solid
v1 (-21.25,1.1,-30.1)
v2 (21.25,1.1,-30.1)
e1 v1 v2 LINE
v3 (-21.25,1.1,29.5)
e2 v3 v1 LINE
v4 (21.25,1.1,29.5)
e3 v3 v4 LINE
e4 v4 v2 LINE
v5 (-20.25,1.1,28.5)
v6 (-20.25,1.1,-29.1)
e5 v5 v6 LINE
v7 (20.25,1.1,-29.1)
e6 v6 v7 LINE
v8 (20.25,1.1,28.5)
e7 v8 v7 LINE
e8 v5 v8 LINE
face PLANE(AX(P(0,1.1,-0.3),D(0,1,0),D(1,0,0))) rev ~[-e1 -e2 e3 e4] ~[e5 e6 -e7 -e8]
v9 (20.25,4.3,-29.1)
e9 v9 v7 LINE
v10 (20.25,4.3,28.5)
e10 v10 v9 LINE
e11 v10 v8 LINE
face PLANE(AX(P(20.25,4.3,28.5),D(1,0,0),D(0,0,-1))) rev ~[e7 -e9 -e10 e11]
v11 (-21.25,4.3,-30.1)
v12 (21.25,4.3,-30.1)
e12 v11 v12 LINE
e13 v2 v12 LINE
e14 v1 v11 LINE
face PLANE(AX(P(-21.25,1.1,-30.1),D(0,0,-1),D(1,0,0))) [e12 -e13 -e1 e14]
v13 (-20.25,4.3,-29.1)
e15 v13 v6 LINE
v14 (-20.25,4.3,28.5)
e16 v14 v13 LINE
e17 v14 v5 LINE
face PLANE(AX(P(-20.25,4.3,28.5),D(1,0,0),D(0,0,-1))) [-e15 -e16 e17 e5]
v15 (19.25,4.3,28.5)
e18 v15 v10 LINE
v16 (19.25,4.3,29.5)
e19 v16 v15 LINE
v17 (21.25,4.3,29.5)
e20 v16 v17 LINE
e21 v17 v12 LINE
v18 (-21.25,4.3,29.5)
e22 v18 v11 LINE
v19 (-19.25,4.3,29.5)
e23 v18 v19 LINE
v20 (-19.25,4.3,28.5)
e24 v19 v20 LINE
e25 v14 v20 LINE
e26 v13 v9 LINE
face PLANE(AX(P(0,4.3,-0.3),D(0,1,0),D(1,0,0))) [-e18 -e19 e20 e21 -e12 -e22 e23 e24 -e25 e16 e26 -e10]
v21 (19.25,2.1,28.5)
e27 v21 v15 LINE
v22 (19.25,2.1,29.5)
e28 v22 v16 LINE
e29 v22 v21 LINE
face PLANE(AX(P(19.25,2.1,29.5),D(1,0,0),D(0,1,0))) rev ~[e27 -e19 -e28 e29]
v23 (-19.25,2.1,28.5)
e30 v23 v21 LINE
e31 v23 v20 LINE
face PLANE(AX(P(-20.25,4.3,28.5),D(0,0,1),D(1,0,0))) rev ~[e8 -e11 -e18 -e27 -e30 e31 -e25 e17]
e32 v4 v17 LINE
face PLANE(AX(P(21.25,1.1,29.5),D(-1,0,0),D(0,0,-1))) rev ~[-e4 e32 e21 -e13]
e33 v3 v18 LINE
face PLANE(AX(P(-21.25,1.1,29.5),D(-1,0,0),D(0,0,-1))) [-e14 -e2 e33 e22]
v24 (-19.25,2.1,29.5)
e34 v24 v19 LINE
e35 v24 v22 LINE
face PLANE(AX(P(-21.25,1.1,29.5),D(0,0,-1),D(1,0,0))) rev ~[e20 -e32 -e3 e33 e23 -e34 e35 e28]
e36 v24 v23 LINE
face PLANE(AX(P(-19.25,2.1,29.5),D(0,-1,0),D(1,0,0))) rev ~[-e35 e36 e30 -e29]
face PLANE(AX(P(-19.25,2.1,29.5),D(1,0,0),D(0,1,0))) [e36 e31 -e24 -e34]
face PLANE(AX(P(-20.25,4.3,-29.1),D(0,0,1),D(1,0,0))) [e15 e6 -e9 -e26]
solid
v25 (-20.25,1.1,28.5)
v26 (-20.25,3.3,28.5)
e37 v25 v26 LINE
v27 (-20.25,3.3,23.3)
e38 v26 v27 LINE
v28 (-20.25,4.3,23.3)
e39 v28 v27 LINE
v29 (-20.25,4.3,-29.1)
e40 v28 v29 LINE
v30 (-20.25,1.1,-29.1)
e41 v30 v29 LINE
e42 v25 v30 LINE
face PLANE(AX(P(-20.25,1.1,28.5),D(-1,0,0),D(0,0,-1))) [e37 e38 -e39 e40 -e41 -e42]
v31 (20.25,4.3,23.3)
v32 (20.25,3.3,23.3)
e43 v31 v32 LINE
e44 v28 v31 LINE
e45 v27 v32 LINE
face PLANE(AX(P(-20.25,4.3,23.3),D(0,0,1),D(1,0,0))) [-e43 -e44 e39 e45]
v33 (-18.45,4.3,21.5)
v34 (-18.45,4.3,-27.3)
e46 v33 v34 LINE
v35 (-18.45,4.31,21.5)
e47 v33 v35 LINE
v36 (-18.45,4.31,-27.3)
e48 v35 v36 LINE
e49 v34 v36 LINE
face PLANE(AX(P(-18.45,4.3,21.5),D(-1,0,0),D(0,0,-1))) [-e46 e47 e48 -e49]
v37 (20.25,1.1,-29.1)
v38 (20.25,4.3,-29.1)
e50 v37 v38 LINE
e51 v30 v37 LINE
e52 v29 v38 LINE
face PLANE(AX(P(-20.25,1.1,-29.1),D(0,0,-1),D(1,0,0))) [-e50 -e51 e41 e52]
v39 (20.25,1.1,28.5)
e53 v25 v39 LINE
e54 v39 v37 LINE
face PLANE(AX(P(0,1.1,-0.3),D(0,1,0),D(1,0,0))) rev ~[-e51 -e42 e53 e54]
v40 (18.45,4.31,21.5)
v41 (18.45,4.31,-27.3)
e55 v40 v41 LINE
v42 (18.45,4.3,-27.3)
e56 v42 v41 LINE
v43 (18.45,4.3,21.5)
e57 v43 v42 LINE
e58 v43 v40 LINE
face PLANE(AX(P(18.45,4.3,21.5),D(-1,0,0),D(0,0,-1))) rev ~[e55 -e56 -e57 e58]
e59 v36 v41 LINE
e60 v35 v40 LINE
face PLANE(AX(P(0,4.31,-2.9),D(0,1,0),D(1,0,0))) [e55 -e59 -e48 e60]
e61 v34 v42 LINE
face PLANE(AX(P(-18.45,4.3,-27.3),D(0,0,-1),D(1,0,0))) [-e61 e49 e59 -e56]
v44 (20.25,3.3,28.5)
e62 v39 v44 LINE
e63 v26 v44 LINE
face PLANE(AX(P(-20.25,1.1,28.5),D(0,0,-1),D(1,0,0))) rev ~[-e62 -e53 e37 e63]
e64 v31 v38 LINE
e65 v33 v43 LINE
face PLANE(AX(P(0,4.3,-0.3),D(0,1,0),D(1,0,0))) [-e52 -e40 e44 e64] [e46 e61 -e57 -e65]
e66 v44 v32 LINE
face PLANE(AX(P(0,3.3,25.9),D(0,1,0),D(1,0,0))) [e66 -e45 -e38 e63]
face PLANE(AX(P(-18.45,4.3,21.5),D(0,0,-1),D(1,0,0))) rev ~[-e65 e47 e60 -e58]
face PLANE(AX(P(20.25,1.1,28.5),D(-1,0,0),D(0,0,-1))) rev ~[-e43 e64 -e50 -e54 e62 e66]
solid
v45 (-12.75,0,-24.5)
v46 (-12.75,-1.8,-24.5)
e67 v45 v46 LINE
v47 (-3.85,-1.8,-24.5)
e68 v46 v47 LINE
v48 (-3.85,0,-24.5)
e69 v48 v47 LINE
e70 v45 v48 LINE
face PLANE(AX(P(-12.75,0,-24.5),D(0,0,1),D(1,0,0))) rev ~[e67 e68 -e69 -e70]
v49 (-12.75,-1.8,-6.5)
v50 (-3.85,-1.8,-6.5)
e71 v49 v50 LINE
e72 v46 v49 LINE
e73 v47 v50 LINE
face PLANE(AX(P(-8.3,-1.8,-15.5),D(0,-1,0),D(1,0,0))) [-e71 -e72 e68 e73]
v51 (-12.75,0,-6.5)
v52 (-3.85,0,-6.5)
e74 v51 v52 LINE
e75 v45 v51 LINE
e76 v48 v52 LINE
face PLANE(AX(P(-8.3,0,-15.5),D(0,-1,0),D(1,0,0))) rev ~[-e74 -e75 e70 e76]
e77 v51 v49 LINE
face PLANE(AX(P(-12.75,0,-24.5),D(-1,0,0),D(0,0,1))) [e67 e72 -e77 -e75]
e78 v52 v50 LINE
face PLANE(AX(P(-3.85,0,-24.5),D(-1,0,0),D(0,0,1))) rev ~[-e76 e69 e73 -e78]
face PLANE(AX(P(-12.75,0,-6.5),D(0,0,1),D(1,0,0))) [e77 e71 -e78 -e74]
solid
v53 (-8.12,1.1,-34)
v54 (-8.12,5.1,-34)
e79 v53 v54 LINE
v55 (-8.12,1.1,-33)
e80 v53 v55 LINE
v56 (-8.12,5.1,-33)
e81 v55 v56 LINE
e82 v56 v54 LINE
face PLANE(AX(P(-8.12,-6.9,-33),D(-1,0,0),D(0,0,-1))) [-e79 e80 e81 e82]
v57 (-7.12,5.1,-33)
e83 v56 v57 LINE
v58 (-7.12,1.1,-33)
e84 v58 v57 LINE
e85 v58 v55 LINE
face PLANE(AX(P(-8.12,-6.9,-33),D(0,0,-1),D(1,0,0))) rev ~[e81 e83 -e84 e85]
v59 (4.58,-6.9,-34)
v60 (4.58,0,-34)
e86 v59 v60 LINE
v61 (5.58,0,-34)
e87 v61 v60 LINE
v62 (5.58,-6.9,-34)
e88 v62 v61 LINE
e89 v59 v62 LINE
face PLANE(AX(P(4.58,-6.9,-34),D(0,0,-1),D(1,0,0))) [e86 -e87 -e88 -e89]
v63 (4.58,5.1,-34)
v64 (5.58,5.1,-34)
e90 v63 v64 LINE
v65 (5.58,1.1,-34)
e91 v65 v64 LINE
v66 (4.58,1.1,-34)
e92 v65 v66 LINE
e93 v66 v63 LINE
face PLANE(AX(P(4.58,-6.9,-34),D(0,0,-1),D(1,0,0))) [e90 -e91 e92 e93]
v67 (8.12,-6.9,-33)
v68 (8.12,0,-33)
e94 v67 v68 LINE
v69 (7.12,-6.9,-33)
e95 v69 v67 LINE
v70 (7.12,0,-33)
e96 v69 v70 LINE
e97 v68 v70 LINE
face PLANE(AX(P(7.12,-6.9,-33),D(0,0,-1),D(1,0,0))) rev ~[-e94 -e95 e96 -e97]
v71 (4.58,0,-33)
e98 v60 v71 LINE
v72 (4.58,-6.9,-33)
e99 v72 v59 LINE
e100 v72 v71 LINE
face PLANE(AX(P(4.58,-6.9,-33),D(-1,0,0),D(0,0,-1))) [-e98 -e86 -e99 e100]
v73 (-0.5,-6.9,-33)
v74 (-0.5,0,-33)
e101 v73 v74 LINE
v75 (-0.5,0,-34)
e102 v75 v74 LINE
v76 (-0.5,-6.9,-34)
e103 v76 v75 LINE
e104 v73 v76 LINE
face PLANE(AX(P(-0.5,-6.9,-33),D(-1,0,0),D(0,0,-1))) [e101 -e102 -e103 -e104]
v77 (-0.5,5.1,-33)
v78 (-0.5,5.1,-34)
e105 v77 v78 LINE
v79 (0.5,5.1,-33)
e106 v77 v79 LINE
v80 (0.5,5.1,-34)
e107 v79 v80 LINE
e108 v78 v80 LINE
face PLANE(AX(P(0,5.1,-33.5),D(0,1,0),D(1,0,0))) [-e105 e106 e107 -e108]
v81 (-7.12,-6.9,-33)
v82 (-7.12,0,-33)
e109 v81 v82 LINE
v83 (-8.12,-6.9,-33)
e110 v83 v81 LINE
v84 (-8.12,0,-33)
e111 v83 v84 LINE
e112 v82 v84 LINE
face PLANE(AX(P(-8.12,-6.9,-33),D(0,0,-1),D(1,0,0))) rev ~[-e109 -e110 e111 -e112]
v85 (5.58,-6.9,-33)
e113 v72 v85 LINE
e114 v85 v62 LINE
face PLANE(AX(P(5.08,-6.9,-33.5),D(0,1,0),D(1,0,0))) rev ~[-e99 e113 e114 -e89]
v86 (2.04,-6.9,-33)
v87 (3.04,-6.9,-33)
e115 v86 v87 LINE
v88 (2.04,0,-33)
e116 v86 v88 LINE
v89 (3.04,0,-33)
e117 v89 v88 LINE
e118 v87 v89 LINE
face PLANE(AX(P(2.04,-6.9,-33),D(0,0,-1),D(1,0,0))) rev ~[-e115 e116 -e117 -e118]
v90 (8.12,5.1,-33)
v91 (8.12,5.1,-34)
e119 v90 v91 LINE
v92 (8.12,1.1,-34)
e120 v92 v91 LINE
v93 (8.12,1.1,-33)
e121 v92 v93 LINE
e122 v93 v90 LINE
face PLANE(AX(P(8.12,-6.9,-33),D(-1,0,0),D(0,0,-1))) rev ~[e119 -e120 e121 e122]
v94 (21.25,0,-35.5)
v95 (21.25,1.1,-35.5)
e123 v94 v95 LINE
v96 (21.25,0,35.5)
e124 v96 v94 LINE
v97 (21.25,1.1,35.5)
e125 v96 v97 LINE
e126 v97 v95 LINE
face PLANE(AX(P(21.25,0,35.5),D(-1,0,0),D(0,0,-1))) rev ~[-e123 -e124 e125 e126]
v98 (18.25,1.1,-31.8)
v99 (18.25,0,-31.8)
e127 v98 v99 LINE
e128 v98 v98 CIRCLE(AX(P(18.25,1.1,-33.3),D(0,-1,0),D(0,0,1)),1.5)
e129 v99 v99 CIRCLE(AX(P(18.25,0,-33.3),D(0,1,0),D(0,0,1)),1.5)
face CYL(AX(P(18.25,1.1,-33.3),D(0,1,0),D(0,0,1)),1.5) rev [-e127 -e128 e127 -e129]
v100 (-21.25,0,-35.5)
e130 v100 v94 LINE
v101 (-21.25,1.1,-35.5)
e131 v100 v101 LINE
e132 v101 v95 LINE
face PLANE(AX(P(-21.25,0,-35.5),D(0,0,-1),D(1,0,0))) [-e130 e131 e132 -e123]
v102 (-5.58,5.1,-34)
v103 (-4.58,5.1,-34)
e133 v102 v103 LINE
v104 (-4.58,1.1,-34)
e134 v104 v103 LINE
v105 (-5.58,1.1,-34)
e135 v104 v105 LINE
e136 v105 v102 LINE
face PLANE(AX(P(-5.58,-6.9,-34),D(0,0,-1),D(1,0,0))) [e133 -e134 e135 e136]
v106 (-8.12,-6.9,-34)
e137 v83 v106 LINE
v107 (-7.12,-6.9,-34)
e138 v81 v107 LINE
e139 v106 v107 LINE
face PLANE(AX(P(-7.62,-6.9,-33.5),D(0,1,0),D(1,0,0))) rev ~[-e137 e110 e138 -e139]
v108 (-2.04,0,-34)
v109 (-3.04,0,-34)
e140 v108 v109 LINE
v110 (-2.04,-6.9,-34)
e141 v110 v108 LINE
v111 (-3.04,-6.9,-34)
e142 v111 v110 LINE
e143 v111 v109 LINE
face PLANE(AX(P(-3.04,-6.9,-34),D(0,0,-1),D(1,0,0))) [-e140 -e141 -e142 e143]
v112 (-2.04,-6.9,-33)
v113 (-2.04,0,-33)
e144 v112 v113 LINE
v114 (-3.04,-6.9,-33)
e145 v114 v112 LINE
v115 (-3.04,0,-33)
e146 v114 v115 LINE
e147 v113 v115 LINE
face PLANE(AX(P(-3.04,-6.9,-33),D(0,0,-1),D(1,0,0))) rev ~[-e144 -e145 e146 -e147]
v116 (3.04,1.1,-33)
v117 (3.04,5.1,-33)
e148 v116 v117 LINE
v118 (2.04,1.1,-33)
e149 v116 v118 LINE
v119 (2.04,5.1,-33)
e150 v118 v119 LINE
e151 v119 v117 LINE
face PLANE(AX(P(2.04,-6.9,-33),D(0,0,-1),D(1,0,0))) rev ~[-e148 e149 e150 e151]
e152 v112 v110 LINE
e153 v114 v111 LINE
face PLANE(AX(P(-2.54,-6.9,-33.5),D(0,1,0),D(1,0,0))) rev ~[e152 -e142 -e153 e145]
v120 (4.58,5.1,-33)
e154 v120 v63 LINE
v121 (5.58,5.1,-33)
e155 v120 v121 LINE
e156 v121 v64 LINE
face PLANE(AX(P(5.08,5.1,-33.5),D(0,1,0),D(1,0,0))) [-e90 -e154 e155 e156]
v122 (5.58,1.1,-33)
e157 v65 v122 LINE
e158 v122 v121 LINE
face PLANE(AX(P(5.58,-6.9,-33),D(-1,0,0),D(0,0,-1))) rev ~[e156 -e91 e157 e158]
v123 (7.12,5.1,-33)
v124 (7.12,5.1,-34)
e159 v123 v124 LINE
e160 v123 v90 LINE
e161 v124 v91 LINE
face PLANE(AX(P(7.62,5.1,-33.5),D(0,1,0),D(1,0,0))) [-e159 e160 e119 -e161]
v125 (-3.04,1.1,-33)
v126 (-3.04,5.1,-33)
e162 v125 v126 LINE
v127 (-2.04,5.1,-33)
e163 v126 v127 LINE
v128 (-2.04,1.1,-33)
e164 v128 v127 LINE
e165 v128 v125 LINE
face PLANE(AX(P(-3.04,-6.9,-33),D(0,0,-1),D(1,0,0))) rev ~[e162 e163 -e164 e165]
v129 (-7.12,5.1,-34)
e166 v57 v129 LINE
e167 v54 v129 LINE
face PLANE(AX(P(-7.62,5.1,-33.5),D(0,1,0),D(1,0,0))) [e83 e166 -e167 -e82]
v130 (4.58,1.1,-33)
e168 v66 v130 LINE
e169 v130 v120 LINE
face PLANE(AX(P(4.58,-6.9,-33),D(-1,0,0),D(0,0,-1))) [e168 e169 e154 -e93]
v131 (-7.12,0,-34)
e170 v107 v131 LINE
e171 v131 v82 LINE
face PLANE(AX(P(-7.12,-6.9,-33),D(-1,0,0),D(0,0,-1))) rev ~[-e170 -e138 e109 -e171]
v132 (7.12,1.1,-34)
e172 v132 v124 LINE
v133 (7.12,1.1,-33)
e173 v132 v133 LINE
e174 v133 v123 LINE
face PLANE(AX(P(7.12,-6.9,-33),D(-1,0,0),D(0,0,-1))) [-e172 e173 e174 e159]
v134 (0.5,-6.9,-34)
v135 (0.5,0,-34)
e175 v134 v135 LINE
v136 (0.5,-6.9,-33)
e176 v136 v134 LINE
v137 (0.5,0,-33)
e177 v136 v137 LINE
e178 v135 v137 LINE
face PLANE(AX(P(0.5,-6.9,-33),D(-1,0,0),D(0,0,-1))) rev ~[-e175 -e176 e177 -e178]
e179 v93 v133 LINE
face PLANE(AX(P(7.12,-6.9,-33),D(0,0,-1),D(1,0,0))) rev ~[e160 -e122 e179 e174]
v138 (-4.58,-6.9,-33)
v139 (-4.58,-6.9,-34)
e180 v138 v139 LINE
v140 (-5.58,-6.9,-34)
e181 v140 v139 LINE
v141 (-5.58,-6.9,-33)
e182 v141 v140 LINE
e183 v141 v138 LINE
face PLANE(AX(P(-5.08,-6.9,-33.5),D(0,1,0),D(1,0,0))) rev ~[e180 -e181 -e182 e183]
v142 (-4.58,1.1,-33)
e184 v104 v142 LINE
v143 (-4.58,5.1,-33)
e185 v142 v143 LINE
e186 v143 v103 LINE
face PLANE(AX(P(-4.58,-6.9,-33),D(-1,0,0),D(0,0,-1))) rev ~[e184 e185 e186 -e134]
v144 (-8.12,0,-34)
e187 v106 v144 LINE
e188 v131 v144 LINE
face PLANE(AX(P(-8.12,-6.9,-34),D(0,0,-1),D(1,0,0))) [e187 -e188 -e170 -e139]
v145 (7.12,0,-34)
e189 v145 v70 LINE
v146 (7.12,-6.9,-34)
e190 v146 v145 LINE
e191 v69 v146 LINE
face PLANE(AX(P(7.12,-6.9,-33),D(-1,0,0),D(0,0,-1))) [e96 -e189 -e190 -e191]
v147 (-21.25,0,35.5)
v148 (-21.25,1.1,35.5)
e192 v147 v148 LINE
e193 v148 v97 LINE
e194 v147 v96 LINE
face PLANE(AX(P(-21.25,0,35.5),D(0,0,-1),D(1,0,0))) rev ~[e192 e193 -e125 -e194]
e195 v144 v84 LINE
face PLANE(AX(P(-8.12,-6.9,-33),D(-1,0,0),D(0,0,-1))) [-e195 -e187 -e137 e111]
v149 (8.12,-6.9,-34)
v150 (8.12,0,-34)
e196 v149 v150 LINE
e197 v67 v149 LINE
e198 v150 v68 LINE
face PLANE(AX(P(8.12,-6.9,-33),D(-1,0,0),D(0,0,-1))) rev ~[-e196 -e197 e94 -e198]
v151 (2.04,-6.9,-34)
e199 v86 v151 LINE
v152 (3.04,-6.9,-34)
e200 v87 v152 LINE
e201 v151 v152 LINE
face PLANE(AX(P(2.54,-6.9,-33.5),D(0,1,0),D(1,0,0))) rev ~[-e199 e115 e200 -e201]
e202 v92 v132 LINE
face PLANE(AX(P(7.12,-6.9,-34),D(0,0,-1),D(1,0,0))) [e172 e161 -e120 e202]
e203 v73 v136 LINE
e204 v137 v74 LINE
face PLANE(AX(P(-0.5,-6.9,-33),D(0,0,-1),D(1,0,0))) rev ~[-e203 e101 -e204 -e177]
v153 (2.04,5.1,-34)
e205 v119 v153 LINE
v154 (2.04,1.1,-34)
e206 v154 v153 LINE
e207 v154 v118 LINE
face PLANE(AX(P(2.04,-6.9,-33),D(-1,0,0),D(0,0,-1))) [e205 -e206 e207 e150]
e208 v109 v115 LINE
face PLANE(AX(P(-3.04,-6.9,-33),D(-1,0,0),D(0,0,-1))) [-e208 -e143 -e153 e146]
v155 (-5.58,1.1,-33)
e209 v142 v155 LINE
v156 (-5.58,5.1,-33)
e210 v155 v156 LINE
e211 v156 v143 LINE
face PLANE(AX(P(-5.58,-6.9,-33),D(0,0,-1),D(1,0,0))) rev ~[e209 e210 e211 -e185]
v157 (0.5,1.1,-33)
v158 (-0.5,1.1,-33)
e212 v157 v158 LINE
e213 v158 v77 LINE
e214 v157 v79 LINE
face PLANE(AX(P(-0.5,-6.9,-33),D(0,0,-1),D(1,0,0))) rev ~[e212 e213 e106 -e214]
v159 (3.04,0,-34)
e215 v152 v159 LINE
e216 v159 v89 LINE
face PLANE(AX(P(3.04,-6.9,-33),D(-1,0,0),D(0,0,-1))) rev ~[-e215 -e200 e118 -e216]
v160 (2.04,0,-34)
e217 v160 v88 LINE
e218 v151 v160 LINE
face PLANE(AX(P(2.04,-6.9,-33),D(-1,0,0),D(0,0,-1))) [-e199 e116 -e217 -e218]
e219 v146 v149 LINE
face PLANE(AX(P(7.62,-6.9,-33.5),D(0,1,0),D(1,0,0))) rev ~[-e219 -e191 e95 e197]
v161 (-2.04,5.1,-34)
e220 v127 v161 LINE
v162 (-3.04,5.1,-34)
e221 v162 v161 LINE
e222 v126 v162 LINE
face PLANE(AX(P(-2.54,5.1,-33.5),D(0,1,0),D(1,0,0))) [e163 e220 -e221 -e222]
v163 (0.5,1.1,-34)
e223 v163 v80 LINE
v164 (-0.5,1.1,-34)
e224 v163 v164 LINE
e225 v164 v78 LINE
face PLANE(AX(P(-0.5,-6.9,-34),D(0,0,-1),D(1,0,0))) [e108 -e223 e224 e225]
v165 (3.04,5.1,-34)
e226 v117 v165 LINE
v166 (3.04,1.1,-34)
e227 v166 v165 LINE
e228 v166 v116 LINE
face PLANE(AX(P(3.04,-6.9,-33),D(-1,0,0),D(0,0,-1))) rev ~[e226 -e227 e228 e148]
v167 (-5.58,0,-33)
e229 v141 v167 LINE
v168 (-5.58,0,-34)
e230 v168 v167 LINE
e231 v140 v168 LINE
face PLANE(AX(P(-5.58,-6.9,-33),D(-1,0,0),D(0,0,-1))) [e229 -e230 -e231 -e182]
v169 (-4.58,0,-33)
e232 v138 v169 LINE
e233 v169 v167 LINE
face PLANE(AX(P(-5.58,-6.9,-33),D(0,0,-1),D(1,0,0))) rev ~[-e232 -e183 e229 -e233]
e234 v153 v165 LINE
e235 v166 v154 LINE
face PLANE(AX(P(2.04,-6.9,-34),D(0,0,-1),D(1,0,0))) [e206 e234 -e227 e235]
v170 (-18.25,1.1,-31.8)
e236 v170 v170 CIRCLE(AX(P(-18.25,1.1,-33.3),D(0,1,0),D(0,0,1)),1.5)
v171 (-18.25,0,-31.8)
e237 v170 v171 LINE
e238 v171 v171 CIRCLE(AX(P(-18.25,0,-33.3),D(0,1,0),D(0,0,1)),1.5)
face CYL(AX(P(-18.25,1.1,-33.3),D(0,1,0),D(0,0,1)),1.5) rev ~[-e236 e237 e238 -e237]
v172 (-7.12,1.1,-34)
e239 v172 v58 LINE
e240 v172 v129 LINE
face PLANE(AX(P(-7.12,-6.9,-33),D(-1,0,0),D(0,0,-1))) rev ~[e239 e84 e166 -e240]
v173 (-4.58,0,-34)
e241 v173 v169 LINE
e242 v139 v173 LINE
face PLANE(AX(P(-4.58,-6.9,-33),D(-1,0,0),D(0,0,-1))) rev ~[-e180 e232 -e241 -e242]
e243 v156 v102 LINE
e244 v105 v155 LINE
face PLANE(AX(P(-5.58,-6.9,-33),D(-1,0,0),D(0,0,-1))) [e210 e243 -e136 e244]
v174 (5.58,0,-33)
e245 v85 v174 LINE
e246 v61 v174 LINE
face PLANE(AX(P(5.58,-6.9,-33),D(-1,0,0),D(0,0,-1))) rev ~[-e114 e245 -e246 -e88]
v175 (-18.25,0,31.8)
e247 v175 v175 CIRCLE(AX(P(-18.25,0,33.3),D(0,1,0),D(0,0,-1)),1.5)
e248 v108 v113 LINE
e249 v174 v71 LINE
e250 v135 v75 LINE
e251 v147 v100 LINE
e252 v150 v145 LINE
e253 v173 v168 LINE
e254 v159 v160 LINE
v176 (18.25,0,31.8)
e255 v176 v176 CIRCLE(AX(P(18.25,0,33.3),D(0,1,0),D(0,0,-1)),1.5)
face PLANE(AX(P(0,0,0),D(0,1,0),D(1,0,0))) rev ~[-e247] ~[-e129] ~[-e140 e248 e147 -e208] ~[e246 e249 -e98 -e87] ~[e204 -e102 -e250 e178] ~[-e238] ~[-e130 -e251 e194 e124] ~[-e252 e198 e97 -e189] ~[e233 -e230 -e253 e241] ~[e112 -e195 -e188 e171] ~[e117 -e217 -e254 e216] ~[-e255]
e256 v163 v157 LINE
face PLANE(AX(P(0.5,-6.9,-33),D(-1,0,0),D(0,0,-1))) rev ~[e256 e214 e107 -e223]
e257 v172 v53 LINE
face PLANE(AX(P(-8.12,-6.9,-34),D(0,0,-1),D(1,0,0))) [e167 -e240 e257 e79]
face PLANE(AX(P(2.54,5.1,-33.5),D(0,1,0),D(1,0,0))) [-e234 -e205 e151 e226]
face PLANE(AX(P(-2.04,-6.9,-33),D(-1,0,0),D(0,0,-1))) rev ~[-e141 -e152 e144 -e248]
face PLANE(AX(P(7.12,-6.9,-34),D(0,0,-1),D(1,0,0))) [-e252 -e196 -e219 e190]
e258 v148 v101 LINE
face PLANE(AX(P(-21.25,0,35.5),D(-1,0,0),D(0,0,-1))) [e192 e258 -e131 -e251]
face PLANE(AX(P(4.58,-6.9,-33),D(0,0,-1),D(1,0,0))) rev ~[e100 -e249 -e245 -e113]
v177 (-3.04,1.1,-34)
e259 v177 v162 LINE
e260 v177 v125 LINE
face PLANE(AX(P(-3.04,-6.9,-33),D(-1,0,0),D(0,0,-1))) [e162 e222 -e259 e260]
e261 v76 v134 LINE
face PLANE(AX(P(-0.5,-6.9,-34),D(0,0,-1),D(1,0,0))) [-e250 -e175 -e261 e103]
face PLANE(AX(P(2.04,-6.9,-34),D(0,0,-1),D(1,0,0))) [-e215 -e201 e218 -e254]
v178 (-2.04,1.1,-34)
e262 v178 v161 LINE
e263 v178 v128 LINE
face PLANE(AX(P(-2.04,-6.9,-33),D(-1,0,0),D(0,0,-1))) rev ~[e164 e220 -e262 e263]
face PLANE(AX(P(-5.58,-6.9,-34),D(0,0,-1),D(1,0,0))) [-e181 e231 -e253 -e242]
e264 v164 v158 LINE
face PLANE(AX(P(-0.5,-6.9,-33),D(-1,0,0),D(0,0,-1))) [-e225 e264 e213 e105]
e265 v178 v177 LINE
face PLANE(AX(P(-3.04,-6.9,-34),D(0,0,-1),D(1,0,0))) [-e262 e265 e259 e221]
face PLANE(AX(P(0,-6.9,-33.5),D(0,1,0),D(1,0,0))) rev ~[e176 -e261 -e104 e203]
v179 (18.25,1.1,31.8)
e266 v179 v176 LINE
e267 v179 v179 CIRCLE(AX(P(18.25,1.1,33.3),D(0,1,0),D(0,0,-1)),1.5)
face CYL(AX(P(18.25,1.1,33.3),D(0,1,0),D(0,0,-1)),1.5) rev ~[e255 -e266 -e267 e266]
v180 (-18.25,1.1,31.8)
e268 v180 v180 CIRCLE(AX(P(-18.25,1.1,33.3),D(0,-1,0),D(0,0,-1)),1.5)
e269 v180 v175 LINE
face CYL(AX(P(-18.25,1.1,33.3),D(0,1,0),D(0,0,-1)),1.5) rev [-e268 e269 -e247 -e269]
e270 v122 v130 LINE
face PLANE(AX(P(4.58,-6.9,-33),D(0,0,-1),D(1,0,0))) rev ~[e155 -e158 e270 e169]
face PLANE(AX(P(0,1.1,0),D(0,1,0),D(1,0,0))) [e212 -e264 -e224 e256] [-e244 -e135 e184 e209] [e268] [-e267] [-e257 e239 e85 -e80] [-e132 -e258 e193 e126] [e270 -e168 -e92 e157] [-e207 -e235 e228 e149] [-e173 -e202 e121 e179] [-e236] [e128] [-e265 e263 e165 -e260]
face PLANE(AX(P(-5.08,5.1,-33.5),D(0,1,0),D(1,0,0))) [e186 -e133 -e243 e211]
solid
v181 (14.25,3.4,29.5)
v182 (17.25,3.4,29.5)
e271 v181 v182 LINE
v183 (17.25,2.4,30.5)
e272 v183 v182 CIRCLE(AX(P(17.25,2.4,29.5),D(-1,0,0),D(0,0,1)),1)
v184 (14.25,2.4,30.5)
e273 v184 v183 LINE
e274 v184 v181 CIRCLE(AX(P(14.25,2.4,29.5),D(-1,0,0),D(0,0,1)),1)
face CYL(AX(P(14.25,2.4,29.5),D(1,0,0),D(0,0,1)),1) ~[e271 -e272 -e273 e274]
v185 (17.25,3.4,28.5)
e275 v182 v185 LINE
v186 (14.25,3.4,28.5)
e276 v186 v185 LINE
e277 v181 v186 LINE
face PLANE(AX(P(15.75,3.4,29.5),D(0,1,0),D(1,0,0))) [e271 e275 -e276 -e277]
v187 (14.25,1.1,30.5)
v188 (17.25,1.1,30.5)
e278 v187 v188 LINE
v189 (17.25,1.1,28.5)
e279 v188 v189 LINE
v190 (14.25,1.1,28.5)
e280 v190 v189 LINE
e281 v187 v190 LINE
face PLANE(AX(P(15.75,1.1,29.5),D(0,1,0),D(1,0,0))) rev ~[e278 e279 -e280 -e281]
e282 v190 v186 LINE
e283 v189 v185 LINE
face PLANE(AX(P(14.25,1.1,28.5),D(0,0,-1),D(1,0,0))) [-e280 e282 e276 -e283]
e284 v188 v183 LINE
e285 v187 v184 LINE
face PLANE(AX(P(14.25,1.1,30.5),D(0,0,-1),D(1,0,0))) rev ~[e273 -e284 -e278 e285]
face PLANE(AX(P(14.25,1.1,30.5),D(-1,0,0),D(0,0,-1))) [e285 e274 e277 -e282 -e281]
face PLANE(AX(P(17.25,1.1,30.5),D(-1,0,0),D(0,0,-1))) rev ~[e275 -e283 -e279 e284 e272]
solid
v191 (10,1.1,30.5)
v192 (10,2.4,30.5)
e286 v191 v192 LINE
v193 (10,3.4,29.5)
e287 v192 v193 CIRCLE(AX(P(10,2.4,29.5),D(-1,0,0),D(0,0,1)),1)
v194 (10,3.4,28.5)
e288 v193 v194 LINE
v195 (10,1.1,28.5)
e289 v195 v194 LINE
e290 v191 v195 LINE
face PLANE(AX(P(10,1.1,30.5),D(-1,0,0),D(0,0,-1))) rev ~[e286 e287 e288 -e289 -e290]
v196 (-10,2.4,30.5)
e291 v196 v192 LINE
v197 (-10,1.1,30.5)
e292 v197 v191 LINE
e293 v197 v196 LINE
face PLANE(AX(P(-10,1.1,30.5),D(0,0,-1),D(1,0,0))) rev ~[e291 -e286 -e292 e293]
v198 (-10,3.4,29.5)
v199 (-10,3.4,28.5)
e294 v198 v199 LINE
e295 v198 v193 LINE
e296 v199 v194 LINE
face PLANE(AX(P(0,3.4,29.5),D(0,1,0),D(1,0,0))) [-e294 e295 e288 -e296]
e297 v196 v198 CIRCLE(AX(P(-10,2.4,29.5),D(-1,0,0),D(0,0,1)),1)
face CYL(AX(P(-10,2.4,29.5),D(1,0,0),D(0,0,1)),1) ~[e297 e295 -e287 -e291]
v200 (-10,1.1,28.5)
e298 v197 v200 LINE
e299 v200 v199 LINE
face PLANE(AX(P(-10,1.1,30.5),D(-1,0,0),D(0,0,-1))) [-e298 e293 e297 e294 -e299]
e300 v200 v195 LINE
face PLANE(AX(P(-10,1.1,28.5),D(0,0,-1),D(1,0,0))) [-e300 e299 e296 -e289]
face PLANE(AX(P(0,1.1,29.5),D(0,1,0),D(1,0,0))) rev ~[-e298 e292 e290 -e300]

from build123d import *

# Parameters (mm, degrees)
SKETCH1_W                                  = 42.5
SKETCH1_H                                  = 71
BOSS_EXTRUDE1_DEPTH                        = 1.1
SKETCH7_R                                  = 1.5
CUT_EXTRUDE2_DEPTH                         = 42.388675988
MIRROR1_AT_THE_SECOND_PLANE_COPY_1_SKETC_R = 1.5
MIRROR1_AT_THE_SECOND_PLANE_COPY_1_DEPTH   = 42.388675988
BOSS_EXTRUDE5_START                        = -8
SKETCH8_W                                  = 1
SKETCH8_H                                  = 1
BOSS_EXTRUDE5_DEPTH                        = 12
LPATTERN1_COUNT                            = 4
LPATTERN1_PITCH                            = 2.54
LPATTERN1_COL_COUNT                        = 4
LPATTERN1_COL_PITCH                        = 2.54
SKETCH10_W                                 = 8.9
SKETCH10_H                                 = 18
PCB_COMPONENTS_DEPTH                       = 1.8
SKETCH2_W                                  = 42.5
SKETCH2_H                                  = 59.6
BOSS_EXTRUDE2_DEPTH                        = 3.2
SKETCH3_W                                  = 40.5
SKETCH3_H                                  = 57.6
CUT_EXTRUDE1_DEPTH                         = 43.863183503
SKETCH12_W                                 = 38.5
SKETCH12_H                                 = 2.2
CUT_EXTRUDE4_DEPTH                         = 1
SKETCH5_W                                  = 40.5
SKETCH5_H                                  = 57.6
BOSS_EXTRUDE3_DEPTH                        = 3.2
SKETCH9_W                                  = 40.5
SKETCH9_H                                  = 5.2
CUT_EXTRUDE3_DEPTH                         = 1
SKETCH6_W                                  = 36.9
SKETCH6_H                                  = 48.8
BOSS_EXTRUDE4_DEPTH                        = 0.01
SKETCH11_W                                 = 20
SKETCH11_H                                 = 2
BOSS_EXTRUDE7_DEPTH                        = 2.3
SKETCH11_W_2                               = 3
BOSS_EXTRUDE7_2_DEPTH                      = 2.3
FILLET1_R                                  = 1
FILLET2_R                                  = 1


with BuildPart() as part:
    # Sketch1 → Boss-Extrude1 (new body)
    with BuildSketch(Plane(origin=(0, 0, 0), x_dir=(1, 0, 0), z_dir=(0, 1, 0))):
        Rectangle(SKETCH1_W, SKETCH1_H)
    extrude(amount=BOSS_EXTRUDE1_DEPTH)

    # Sketch7 → Cut-Extrude2 (cut, through all)
    with BuildSketch(Plane(origin=(0, 1.1, 0), x_dir=(1, 0, 0), z_dir=(0, 1, 0))):
        with Locations(Location((-18.25, 33.3, 0), (0, 0, 270))):
            Circle(SKETCH7_R)
    cut_extrude2 = extrude(amount=-CUT_EXTRUDE2_DEPTH, mode=Mode.SUBTRACT)

    # Mirror1: Cut-Extrude2 across plane
    add(cut_extrude2.mirror(Plane.XY), mode=Mode.SUBTRACT)

    # Mirror1 at the second plane: Cut-Extrude2 across plane
    add(cut_extrude2.mirror(Plane(origin=(0, 0, 0), x_dir=(0, 0, 1), z_dir=(1, 0, 0))), mode=Mode.SUBTRACT)

    # Mirror1 at the second plane copy 1 sketc → Mirror1 at the second plane copy 1 (cut, through all)
    with BuildSketch(Plane(origin=(0, 1.1, 0), x_dir=(-1, 0, 0), z_dir=(0, 1, 0))):
        with Locations(Location((-18.25, 33.3, 0), (0, 0, 270))):
            Circle(MIRROR1_AT_THE_SECOND_PLANE_COPY_1_SKETC_R)
    extrude(amount=-MIRROR1_AT_THE_SECOND_PLANE_COPY_1_DEPTH, mode=Mode.SUBTRACT)

    # Sketch8 → Boss-Extrude5 (add)
    with BuildSketch(Plane(origin=(0, 1.1, 0), x_dir=(1, 0, 0), z_dir=(0, 1, 0)).offset(BOSS_EXTRUDE5_START)):
        with Locations((0, 33.5)):
            Rectangle(SKETCH8_W, SKETCH8_H)
    boss_extrude5 = extrude(amount=BOSS_EXTRUDE5_DEPTH)

    # LPattern1: Boss-Extrude5 ×4
    with Locations(*[(i * LPATTERN1_PITCH, 0, 0) for i in range(1, LPATTERN1_COUNT)]):
        add(boss_extrude5)

    # LPattern1 col: Boss-Extrude5 ×4
    with Locations(*[(-i * LPATTERN1_COL_PITCH, 0, 0) for i in range(1, LPATTERN1_COL_COUNT)]):
        add(boss_extrude5)


with BuildPart() as body_2:
    # Sketch10 → PCB components (new body)
    with BuildSketch(Plane.XZ):
        with Locations((-8.3, -15.5)):
            Rectangle(SKETCH10_W, SKETCH10_H)
    extrude(amount=PCB_COMPONENTS_DEPTH)


with BuildPart() as body_3:
    # Sketch2 → Boss-Extrude2 (new body)
    with BuildSketch(Plane(origin=(0, 1.1, 0), x_dir=(1, 0, 0), z_dir=(0, 1, 0))):
        with Locations((0, 0.3)):
            Rectangle(SKETCH2_W, SKETCH2_H)
    extrude(amount=BOSS_EXTRUDE2_DEPTH)

    # Sketch3 → Cut-Extrude1 (cut, through all)
    with BuildSketch(Plane(origin=(0, 4.3, 0), x_dir=(1, 0, 0), z_dir=(0, 1, 0))):
        with Locations((0, 0.3)):
            Rectangle(SKETCH3_W, SKETCH3_H)
    extrude(amount=-CUT_EXTRUDE1_DEPTH, mode=Mode.SUBTRACT)

    # Sketch12 → Cut-Extrude4 (cut)
    with BuildSketch(Plane.XY.offset(29.5)):
        with Locations((0, 3.2)):
            Rectangle(SKETCH12_W, SKETCH12_H)
    extrude(amount=-CUT_EXTRUDE4_DEPTH, mode=Mode.SUBTRACT)


with BuildPart() as body_4:
    # Sketch5 → Boss-Extrude3 (new body)
    with BuildSketch(Plane(origin=(0, 1.1, 0), x_dir=(1, 0, 0), z_dir=(0, 1, 0))):
        with Locations((0, 0.3)):
            Rectangle(SKETCH5_W, SKETCH5_H)
    extrude(amount=BOSS_EXTRUDE3_DEPTH)

    # Sketch9 → Cut-Extrude3 (cut)
    with BuildSketch(Plane(origin=(0, 4.3, 0), x_dir=(1, 0, 0), z_dir=(0, 1, 0))):
        with Locations((0, -25.9)):
            Rectangle(SKETCH9_W, SKETCH9_H)
    extrude(amount=-CUT_EXTRUDE3_DEPTH, mode=Mode.SUBTRACT)

    # Sketch6 → Boss-Extrude4 (add)
    with BuildSketch(Plane(origin=(0, 4.3, 0), x_dir=(1, 0, 0), z_dir=(0, 1, 0))):
        with Locations((0, 2.9)):
            Rectangle(SKETCH6_W, SKETCH6_H)
    extrude(amount=BOSS_EXTRUDE4_DEPTH)


with BuildPart() as body_5:
    # Sketch11 → Boss-Extrude7 (new body)
    with BuildSketch(Plane(origin=(0, 1.1, 0), x_dir=(1, 0, 0), z_dir=(0, 1, 0))):
        with Locations((0, -29.5)):
            Rectangle(SKETCH11_W, SKETCH11_H)
    extrude(amount=BOSS_EXTRUDE7_DEPTH)

    # Fillet1
    fillet1_edges = [body_5.edges().sort_by_distance(p)[0] for p in [
        (0, 3.4, 30.5),
    ]]
    fillet(fillet1_edges, radius=FILLET1_R)


with BuildPart() as body_6:
    # Sketch11 → Boss-Extrude7 2 (new body)
    with BuildSketch(Plane(origin=(0, 1.1, 0), x_dir=(1, 0, 0), z_dir=(0, 1, 0))):
        with Locations((15.75, -29.5)):
            Rectangle(SKETCH11_W_2, SKETCH11_H)
    extrude(amount=BOSS_EXTRUDE7_2_DEPTH)

    # Fillet2
    fillet2_edges = [body_6.edges().sort_by_distance(p)[0] for p in [
        (15.75, 3.4, 30.5),
    ]]
    fillet(fillet2_edges, radius=FILLET2_R)


solid = Compound([part.part, body_2.part, body_3.part, body_4.part, body_5.part, body_6.part])
